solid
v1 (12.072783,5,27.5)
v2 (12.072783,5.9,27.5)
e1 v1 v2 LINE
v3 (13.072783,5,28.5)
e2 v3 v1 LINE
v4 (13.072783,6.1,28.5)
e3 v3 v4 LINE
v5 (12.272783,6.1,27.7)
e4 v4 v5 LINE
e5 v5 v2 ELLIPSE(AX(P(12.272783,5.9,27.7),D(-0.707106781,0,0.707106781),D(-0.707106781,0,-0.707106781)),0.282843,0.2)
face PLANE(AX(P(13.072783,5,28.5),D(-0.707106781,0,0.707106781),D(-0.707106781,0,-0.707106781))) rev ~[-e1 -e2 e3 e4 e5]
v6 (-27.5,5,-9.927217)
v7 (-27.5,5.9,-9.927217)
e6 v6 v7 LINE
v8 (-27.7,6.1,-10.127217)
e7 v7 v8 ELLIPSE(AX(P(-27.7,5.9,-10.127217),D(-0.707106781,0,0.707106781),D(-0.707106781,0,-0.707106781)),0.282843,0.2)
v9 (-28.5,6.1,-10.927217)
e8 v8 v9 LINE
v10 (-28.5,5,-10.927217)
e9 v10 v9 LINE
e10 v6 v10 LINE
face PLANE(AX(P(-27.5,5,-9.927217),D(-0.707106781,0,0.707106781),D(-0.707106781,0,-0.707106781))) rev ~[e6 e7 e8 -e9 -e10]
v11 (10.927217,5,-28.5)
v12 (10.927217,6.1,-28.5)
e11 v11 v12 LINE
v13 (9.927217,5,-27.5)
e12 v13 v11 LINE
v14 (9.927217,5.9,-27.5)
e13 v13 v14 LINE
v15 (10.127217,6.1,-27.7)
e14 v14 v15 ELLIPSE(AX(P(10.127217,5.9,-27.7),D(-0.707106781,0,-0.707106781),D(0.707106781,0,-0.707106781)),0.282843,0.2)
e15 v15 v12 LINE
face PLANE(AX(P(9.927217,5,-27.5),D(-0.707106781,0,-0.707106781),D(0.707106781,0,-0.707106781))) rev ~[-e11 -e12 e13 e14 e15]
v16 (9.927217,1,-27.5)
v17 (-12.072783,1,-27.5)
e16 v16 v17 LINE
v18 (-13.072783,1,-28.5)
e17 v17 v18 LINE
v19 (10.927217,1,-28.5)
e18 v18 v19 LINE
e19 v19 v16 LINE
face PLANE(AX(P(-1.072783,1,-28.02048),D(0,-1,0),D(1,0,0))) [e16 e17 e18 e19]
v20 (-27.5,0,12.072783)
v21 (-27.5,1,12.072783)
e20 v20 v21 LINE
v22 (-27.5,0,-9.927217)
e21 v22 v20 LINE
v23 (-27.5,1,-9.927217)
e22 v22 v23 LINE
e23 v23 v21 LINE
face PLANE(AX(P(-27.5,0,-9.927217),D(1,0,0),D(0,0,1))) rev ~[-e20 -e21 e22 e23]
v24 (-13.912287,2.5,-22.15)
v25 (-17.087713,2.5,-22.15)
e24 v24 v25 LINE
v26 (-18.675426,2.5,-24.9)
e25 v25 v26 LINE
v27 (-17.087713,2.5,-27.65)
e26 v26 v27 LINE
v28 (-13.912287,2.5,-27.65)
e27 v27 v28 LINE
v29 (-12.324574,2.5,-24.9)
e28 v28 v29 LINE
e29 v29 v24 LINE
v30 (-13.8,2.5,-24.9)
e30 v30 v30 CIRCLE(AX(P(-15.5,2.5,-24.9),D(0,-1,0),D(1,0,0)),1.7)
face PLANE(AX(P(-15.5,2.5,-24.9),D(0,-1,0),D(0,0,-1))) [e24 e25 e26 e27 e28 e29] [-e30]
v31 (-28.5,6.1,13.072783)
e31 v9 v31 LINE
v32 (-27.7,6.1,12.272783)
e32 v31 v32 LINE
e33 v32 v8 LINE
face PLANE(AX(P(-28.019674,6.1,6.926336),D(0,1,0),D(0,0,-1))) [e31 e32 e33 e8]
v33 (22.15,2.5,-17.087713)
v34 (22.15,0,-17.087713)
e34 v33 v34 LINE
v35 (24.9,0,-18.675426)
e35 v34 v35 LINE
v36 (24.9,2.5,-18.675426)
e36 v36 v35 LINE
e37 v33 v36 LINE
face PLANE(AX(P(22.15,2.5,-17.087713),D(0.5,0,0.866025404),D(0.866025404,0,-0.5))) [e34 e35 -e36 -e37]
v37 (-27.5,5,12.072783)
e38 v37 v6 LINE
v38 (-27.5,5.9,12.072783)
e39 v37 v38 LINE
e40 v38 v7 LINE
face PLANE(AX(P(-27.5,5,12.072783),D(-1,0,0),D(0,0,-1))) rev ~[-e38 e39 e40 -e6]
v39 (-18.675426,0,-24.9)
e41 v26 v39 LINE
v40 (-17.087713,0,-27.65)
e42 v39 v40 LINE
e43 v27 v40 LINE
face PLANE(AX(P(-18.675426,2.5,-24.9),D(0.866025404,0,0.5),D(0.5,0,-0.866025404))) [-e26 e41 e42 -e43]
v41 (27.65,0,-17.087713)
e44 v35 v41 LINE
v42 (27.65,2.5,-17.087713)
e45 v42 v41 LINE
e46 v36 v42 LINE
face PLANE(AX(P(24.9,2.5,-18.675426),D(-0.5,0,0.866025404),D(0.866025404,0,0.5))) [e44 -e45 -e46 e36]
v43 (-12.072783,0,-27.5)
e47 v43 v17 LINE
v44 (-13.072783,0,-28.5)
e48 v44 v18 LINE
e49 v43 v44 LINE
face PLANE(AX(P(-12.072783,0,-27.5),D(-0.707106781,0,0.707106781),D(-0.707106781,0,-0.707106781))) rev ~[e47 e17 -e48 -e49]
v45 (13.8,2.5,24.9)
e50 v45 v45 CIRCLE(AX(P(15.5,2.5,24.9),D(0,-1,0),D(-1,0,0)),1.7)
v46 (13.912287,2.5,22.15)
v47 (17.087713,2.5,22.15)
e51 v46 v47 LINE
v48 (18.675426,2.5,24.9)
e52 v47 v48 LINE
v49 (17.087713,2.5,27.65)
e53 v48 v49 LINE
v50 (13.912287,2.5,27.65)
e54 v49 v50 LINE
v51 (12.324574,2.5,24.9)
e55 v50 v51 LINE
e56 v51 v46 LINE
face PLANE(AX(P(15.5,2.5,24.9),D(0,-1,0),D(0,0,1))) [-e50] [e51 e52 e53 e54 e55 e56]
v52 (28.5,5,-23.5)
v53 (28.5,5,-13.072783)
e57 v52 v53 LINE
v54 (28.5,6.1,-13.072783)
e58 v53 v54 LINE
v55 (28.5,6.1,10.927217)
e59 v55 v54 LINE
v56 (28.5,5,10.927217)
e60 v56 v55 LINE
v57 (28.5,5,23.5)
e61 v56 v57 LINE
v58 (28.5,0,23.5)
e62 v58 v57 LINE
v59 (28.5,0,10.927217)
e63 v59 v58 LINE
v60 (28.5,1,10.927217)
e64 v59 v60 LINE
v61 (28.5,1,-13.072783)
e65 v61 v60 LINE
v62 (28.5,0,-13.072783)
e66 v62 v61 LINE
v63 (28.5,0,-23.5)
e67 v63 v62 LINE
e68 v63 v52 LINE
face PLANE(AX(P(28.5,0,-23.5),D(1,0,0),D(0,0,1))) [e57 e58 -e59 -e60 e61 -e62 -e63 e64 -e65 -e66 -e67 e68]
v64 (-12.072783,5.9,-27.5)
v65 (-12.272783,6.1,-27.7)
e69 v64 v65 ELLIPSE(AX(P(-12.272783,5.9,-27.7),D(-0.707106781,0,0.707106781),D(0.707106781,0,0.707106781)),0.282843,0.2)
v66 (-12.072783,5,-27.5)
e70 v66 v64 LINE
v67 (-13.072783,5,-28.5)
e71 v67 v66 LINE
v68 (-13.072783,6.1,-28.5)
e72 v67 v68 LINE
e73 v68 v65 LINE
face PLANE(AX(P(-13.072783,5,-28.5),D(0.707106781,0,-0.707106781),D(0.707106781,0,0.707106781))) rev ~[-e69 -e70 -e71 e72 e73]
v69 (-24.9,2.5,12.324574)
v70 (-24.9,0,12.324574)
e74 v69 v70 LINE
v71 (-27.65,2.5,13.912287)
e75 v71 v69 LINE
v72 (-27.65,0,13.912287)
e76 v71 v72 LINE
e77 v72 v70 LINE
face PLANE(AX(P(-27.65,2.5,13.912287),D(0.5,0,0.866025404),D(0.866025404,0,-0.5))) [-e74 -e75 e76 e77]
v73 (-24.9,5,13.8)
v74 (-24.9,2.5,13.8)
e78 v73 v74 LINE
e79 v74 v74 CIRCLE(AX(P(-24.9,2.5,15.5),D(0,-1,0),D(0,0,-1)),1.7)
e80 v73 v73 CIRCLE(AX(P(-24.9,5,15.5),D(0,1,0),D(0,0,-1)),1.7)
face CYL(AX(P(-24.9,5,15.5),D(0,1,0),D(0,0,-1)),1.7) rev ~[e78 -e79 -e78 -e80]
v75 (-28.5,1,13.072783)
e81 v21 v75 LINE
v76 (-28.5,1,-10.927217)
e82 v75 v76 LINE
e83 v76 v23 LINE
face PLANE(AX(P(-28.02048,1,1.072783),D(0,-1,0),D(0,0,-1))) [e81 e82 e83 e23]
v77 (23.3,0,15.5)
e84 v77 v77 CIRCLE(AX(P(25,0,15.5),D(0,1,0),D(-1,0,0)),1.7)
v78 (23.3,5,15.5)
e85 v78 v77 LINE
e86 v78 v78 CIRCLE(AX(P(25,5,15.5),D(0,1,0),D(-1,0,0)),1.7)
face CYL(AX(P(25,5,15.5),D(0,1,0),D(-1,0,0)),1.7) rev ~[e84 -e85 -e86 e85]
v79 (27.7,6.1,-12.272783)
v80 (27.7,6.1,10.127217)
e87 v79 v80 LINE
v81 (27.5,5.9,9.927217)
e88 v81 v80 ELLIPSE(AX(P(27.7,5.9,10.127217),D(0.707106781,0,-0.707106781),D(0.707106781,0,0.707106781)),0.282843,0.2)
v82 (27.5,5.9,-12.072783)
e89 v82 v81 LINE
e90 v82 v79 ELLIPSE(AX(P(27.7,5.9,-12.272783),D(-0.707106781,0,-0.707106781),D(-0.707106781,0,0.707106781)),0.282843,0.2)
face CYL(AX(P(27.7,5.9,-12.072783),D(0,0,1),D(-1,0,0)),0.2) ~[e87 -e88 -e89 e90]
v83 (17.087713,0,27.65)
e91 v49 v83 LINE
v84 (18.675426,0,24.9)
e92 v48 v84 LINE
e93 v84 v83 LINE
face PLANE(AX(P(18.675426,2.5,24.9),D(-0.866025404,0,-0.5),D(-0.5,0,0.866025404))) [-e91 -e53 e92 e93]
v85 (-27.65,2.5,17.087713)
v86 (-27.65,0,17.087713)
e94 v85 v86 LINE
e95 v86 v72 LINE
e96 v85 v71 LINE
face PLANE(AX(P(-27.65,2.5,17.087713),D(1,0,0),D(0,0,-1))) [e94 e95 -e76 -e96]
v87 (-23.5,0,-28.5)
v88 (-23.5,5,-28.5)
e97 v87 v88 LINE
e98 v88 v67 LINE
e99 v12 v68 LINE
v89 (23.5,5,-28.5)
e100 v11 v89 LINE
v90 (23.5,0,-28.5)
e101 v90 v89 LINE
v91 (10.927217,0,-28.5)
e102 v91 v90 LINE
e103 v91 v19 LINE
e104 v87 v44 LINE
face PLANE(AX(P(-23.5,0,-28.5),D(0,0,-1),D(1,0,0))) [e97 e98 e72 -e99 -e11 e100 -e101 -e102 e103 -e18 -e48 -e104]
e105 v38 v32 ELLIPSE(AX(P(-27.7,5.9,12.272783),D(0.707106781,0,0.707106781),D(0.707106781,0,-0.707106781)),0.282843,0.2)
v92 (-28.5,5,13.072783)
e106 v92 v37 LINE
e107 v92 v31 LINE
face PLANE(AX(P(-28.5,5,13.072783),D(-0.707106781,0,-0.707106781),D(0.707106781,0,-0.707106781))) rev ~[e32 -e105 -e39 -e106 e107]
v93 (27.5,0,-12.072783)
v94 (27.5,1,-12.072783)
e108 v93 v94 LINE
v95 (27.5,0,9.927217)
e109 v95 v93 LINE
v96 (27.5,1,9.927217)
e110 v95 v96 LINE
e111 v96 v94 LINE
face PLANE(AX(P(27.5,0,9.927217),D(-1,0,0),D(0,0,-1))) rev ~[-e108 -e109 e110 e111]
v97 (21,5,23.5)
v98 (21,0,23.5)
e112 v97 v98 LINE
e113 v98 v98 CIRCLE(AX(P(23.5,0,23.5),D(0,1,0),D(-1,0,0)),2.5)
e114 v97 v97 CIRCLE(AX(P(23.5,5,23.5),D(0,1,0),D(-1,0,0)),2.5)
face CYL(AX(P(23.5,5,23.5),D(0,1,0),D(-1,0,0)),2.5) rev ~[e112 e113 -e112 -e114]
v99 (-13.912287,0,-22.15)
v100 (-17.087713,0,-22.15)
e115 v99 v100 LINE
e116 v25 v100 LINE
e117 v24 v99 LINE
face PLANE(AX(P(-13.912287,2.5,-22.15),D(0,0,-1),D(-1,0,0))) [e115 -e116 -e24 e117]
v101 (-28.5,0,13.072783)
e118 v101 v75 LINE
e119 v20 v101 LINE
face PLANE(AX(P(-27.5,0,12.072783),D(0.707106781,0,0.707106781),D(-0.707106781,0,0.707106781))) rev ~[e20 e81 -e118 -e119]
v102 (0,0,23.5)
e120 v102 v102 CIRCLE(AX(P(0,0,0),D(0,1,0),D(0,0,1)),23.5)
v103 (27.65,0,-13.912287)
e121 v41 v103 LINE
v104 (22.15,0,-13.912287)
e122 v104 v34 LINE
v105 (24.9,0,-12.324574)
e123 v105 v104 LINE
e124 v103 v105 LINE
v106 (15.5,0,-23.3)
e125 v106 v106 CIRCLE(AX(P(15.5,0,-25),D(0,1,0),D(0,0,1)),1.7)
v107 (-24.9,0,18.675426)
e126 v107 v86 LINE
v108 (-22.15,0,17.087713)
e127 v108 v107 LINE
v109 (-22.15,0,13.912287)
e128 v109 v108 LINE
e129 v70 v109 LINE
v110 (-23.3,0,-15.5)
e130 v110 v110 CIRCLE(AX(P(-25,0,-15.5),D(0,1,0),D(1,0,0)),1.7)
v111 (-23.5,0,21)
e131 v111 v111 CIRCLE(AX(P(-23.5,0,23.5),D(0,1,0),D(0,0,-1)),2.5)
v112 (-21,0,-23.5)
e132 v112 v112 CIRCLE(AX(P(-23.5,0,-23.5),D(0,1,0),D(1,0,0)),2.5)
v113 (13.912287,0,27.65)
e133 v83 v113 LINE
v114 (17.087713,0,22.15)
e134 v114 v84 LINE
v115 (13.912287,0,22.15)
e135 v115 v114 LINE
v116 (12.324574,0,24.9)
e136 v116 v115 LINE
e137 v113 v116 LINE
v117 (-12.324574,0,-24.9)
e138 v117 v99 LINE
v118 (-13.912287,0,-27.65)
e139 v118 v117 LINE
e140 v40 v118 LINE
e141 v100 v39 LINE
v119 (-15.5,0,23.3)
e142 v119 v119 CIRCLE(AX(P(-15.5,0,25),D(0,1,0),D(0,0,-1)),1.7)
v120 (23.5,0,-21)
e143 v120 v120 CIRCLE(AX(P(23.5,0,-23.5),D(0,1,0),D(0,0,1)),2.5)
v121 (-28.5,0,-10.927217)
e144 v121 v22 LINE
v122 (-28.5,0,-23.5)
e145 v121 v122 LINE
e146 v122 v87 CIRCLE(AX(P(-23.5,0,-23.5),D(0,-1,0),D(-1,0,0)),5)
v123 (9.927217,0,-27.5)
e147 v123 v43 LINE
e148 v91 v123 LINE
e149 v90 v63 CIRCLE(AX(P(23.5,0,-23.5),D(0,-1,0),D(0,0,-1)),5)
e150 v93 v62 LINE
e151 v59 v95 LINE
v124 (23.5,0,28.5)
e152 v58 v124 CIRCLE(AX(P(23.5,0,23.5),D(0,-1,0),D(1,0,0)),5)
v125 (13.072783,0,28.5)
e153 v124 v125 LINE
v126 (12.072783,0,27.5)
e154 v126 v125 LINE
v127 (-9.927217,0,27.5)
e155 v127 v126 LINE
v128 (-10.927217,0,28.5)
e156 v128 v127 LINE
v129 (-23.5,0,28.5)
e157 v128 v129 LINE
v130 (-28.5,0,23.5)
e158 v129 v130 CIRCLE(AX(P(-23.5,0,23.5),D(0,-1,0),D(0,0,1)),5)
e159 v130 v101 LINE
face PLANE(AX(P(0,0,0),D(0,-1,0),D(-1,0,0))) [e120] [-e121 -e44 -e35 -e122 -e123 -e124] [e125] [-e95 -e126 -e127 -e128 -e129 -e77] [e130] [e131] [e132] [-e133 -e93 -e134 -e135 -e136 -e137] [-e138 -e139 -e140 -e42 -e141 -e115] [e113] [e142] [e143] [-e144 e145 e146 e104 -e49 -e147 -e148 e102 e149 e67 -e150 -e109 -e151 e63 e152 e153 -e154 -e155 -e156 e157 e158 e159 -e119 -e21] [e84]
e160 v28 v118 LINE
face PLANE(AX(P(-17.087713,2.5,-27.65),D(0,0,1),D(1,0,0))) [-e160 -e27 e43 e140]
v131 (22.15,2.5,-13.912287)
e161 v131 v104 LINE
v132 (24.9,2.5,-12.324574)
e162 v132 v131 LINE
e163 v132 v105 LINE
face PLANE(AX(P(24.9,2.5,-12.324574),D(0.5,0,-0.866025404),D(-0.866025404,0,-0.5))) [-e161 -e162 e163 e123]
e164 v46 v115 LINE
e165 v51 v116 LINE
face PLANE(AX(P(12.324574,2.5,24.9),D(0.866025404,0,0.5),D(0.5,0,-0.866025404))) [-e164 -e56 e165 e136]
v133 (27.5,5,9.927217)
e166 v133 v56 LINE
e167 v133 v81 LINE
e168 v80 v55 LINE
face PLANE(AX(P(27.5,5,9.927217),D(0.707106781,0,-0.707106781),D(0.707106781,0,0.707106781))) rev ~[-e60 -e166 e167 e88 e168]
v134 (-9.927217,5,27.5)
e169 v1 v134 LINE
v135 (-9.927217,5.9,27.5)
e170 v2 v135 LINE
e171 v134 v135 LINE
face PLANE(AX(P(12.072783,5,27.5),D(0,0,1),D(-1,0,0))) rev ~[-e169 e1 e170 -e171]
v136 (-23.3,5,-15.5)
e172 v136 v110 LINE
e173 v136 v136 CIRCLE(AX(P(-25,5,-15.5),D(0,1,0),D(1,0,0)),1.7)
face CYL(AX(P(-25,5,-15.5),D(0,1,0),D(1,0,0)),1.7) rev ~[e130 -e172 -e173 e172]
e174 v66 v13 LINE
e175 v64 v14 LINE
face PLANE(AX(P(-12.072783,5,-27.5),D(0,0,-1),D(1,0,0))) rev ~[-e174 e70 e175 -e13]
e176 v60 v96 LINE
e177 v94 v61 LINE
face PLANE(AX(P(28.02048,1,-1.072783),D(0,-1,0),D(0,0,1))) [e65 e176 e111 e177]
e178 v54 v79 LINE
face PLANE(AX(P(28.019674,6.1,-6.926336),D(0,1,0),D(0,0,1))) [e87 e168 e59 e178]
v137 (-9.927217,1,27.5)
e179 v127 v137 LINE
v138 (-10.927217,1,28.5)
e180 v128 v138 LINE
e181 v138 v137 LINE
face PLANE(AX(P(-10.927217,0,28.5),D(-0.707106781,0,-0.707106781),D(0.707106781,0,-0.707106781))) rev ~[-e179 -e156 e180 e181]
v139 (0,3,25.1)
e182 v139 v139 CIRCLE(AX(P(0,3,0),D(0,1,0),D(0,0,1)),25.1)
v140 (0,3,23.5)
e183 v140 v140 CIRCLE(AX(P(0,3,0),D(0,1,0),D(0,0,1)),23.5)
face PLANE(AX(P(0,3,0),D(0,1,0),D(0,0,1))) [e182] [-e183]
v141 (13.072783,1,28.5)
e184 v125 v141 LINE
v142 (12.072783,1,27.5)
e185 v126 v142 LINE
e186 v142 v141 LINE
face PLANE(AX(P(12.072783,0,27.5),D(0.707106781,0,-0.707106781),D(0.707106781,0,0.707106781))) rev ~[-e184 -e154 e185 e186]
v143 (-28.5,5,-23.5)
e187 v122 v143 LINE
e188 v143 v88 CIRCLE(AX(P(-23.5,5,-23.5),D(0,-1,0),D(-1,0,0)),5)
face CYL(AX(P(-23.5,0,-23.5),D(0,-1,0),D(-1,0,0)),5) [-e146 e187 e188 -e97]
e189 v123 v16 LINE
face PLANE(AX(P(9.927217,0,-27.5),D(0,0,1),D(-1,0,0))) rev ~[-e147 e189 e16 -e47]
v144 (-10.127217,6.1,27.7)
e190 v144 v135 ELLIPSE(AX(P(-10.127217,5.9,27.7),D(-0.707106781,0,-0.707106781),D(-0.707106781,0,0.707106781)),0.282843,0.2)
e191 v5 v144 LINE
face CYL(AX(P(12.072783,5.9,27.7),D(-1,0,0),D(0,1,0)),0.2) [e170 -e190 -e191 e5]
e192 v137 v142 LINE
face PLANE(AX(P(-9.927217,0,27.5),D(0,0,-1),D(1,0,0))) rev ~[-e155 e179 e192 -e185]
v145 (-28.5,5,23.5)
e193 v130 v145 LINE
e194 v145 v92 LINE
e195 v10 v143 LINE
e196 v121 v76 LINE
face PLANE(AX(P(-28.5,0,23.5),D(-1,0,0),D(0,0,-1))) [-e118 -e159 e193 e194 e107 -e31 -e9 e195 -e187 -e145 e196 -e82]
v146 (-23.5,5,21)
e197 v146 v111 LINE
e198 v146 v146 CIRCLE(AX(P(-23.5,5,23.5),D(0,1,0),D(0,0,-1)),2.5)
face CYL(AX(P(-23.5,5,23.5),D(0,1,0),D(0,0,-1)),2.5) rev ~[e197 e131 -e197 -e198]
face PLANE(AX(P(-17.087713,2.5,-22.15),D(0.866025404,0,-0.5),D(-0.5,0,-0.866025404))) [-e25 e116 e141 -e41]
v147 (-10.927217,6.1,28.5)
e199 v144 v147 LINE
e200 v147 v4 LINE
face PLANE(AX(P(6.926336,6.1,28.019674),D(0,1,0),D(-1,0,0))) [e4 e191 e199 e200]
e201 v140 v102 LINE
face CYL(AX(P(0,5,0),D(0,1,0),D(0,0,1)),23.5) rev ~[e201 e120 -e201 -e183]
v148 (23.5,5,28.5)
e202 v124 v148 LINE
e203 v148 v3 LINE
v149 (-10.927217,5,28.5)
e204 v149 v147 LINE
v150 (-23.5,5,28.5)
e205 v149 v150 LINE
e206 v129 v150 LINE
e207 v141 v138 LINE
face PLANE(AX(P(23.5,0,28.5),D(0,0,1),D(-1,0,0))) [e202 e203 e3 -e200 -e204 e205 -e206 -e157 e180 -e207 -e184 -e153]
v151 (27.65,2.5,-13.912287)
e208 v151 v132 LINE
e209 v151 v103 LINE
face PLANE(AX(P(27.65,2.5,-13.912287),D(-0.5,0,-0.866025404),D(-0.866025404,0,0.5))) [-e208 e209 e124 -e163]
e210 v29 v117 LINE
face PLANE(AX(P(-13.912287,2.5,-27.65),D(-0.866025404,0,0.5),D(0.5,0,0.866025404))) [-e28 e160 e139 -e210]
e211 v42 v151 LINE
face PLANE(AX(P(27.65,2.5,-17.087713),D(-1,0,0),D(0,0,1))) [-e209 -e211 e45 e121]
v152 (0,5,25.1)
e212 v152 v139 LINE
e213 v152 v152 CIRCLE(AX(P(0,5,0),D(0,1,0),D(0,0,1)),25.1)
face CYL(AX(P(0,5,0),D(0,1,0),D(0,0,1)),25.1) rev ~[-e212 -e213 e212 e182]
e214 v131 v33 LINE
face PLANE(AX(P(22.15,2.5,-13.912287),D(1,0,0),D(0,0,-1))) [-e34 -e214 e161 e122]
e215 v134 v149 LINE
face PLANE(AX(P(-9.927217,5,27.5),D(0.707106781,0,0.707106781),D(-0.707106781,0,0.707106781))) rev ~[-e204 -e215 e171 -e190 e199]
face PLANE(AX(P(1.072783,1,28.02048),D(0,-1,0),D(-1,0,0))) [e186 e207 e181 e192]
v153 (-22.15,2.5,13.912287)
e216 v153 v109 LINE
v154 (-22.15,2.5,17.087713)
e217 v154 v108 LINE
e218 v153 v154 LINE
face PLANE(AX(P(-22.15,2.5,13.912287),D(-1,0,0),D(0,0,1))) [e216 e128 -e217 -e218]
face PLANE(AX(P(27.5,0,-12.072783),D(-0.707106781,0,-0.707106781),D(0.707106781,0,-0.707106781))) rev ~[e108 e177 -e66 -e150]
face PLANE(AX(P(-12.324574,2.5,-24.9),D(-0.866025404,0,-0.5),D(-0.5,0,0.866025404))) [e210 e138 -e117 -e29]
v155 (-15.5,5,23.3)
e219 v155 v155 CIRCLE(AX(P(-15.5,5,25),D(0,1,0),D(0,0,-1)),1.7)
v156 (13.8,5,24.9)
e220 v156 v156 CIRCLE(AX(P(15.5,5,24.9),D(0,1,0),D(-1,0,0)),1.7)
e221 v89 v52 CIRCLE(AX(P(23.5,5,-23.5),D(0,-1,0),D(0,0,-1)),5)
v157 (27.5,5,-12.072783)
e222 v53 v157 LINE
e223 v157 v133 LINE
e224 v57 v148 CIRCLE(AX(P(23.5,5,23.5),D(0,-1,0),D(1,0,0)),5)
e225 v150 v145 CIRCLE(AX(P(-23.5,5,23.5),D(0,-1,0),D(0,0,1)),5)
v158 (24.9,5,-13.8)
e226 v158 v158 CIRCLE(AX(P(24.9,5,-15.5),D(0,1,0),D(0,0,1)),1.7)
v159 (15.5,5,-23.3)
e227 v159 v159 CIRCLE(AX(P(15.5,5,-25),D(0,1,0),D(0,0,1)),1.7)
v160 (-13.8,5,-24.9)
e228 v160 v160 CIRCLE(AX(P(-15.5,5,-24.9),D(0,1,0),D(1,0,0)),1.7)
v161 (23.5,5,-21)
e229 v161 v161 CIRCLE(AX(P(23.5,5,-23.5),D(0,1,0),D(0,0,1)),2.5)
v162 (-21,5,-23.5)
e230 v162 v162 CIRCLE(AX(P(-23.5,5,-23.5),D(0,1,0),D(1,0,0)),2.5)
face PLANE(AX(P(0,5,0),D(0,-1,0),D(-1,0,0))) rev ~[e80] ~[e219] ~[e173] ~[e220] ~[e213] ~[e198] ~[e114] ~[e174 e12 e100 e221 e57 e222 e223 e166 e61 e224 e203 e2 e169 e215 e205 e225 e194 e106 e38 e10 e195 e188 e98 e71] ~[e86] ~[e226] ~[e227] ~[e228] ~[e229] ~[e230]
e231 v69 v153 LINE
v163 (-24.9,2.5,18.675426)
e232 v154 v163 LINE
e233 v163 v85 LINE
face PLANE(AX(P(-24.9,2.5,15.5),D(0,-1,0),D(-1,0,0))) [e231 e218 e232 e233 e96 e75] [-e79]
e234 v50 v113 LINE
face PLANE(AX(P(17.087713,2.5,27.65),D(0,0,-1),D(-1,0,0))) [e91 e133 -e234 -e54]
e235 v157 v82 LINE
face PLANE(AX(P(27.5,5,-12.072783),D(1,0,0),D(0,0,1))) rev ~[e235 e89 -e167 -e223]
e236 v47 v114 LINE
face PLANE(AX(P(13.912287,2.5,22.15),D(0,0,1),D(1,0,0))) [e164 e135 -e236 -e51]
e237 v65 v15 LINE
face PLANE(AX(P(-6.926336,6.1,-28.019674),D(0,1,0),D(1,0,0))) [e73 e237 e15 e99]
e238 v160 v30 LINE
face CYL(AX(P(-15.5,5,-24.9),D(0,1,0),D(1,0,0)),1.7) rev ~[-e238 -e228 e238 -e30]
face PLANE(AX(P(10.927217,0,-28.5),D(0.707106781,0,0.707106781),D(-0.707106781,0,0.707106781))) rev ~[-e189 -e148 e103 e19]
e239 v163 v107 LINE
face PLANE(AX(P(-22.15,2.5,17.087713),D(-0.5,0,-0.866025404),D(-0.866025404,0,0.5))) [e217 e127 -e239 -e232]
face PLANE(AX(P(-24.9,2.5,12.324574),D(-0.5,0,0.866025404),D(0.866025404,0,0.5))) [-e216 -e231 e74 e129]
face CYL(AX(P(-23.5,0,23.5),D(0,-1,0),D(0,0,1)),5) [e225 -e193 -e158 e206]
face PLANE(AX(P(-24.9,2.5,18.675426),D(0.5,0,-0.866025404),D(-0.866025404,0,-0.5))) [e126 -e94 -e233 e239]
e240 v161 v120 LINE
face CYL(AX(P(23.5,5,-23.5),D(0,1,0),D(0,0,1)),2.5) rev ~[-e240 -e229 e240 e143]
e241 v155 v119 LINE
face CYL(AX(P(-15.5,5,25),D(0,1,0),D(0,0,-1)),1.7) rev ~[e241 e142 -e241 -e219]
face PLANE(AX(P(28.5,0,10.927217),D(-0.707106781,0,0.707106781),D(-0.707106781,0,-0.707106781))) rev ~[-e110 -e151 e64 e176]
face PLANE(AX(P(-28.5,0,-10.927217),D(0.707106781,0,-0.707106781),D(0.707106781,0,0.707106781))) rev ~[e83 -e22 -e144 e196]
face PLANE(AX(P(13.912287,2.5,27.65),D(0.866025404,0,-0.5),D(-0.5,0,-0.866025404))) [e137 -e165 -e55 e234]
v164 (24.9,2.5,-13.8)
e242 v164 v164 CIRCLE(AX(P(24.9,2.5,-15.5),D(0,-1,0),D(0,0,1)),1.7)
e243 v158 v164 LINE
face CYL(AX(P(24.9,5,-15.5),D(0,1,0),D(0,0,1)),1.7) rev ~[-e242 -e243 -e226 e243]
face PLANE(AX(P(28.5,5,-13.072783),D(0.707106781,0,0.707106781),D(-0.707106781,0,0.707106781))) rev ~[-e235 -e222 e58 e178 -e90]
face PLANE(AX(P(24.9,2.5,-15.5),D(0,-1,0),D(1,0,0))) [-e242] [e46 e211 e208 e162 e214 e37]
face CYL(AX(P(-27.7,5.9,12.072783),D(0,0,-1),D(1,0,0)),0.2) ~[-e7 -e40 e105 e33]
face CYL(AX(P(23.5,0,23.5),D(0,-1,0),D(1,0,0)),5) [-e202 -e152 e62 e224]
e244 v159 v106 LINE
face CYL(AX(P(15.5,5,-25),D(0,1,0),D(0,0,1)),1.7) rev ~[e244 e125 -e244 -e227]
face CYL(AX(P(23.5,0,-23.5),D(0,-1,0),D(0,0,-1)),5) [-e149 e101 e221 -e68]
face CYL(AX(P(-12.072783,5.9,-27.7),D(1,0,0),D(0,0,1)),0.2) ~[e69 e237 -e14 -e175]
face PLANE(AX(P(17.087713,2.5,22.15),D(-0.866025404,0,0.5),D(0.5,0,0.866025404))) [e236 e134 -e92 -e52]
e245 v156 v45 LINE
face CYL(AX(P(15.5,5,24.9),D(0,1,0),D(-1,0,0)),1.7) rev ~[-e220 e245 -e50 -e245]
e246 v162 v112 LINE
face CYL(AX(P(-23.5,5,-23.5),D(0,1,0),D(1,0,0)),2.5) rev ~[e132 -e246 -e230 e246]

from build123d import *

# Parameters (mm, degrees)
BOSS_EXTRUDE1_DEPTH = 5
SKETCH2_R           = 1.7
SKETCH2_R_2         = 2.5
CUT_EXTRUDE3_DEPTH  = 5
SKETCH5_R           = 23.5
CUT_EXTRUDE5_DEPTH  = 41.614036982
SKETCH5_3_R         = 25.1
SKETCH5_3_R_2       = 23.5
CUT_EXTRUDE6_DEPTH  = 2
CUT_EXTRUDE7_START  = -2.5
SKETCH6_R           = 1.7
CUT_EXTRUDE7_DEPTH  = 2.5
BOSS_EXTRUDE2_DEPTH = 1.1
CUT_EXTRUDE8_DEPTH  = 1
CIRPATTERN9_COUNT   = 4
FILLET1_R           = 0.2


with BuildPart() as part:
    # Sketch1 → Boss-Extrude1 (new body)
    with BuildSketch(Plane(origin=(0, 0, 0), x_dir=(1, 0, 0), z_dir=(0, 1, 0))):
        with BuildLine():
            Line((23.5, -28.5), (-23.5, -28.5))
            ThreePointArc((-23.5, -28.5), (-27.035533906, -27.035533906), (-28.5, -23.5))
            Line((-28.5, -23.5), (-28.5, 23.5))
            ThreePointArc((-28.5, 23.5), (-27.035533906, 27.035533906), (-23.5, 28.5))
            Line((-23.5, 28.5), (23.5, 28.5))
            ThreePointArc((23.5, 28.5), (27.035533906, 27.035533906), (28.5, 23.5))
            Line((28.5, 23.5), (28.5, -23.5))
            ThreePointArc((28.5, -23.5), (27.035533906, -27.035533906), (23.5, -28.5))
        make_face()
    extrude(amount=BOSS_EXTRUDE1_DEPTH)

    # Sketch2 → Cut-Extrude3 (cut)
    with BuildSketch(Plane(origin=(0, 5, 0), x_dir=(1, 0, 0), z_dir=(0, 1, 0))):
        with Locations(Location((24.9, 15.5, 0), (0, 0, 270))):
            Circle(SKETCH2_R)
        with Locations(Location((15.5, 25, 0), (0, 0, 270))):
            Circle(SKETCH2_R)
        with Locations(Location((23.5, 23.5, 0), (0, 0, 270))):
            Circle(SKETCH2_R_2)
    cut_extrude3 = extrude(amount=-CUT_EXTRUDE3_DEPTH, mode=Mode.SUBTRACT)

    # Sketch5 → Cut-Extrude5 (cut, through all)
    with BuildSketch(Plane(origin=(0, 5, 0), x_dir=(1, 0, 0), z_dir=(0, 1, 0))):
        with Locations(Location((0, 0, 0), (0, 0, 270))):
            Circle(SKETCH5_R)
    extrude(amount=-CUT_EXTRUDE5_DEPTH, mode=Mode.SUBTRACT)

    # Sketch5<3> → Cut-Extrude6 (cut)
    with BuildSketch(Plane(origin=(0, 5, 0), x_dir=(1, 0, 0), z_dir=(0, 1, 0))):
        with Locations(Location((0, 0, 0), (0, 0, 270))):
            Circle(SKETCH5_3_R)
        with Locations(Location((0, 0, 0), (0, 0, 270))):
            Circle(SKETCH5_3_R_2, mode=Mode.SUBTRACT)
    extrude(amount=-CUT_EXTRUDE6_DEPTH, mode=Mode.SUBTRACT)

    # Sketch6 → Cut-Extrude7 (cut)
    with BuildSketch(Plane.XZ.offset(CUT_EXTRUDE7_START)):
        Polygon((22.15, -13.91228676), (22.15, -17.08771324), (24.9, -18.675426481), (27.65, -17.08771324), (27.65, -13.91228676), (24.9, -12.324573519), align=None)
        with Locations(Location((24.9, -15.5, 0), (0, 0, 90))):
            Circle(SKETCH6_R, mode=Mode.SUBTRACT)
    cut_extrude7 = extrude(amount=CUT_EXTRUDE7_DEPTH, mode=Mode.SUBTRACT)

    # Sketch7 → Boss-Extrude2 (add)
    with BuildSketch(Plane(origin=(0, 5, 0), x_dir=(1, 0, 0), z_dir=(0, 1, 0))):
        Polygon((-1.072782926, 27.5), (-1.072782926, 28.5), (-13.072782926, 28.5), (-12.072782926, 27.5), align=None)
        Polygon((9.927217074, 27.5), (10.927217074, 28.5), (-1.072782926, 28.5), (-1.072782926, 27.5), align=None)
    boss_extrude2 = extrude(amount=BOSS_EXTRUDE2_DEPTH)

    # Sketch8 → Cut-Extrude8 (cut)
    with BuildSketch(Plane.XZ):
        Polygon((-12.072782926, -27.5), (-13.072782926, -28.5), (10.927217074, -28.5), (9.927217074, -27.5), align=None)
    cut_extrude8 = extrude(amount=-CUT_EXTRUDE8_DEPTH, mode=Mode.SUBTRACT)

    # CirPattern9: Cut-Extrude3, Cut-Extrude7, Boss-Extrude2, Cut-Extrude8 ×4 about axis
    cirpattern9_axis = Axis((0, 0, 0), (0, 1, 0))
    add([cut_extrude3.rotate(cirpattern9_axis, i * 360 / CIRPATTERN9_COUNT) for i in range(1, CIRPATTERN9_COUNT)], mode=Mode.SUBTRACT)
    add([cut_extrude7.rotate(cirpattern9_axis, i * 360 / CIRPATTERN9_COUNT) for i in range(1, CIRPATTERN9_COUNT)], mode=Mode.SUBTRACT)
    add([boss_extrude2.rotate(cirpattern9_axis, i * 360 / CIRPATTERN9_COUNT) for i in range(1, CIRPATTERN9_COUNT)])
    add([cut_extrude8.rotate(cirpattern9_axis, i * 360 / CIRPATTERN9_COUNT) for i in range(1, CIRPATTERN9_COUNT)], mode=Mode.SUBTRACT)

    # Fillet1
    fillet1_edges = [part.edges().sort_by_distance(p)[0] for p in [
        (-27.5, 6.1, 1.072782926),
        (1.072782926, 6.1, 27.5),
        (27.5, 6.1, -1.072782926),
        (-1.072782926, 6.1, -27.5),
    ]]
    fillet(fillet1_edges, radius=FILLET1_R)


solid = part.part
